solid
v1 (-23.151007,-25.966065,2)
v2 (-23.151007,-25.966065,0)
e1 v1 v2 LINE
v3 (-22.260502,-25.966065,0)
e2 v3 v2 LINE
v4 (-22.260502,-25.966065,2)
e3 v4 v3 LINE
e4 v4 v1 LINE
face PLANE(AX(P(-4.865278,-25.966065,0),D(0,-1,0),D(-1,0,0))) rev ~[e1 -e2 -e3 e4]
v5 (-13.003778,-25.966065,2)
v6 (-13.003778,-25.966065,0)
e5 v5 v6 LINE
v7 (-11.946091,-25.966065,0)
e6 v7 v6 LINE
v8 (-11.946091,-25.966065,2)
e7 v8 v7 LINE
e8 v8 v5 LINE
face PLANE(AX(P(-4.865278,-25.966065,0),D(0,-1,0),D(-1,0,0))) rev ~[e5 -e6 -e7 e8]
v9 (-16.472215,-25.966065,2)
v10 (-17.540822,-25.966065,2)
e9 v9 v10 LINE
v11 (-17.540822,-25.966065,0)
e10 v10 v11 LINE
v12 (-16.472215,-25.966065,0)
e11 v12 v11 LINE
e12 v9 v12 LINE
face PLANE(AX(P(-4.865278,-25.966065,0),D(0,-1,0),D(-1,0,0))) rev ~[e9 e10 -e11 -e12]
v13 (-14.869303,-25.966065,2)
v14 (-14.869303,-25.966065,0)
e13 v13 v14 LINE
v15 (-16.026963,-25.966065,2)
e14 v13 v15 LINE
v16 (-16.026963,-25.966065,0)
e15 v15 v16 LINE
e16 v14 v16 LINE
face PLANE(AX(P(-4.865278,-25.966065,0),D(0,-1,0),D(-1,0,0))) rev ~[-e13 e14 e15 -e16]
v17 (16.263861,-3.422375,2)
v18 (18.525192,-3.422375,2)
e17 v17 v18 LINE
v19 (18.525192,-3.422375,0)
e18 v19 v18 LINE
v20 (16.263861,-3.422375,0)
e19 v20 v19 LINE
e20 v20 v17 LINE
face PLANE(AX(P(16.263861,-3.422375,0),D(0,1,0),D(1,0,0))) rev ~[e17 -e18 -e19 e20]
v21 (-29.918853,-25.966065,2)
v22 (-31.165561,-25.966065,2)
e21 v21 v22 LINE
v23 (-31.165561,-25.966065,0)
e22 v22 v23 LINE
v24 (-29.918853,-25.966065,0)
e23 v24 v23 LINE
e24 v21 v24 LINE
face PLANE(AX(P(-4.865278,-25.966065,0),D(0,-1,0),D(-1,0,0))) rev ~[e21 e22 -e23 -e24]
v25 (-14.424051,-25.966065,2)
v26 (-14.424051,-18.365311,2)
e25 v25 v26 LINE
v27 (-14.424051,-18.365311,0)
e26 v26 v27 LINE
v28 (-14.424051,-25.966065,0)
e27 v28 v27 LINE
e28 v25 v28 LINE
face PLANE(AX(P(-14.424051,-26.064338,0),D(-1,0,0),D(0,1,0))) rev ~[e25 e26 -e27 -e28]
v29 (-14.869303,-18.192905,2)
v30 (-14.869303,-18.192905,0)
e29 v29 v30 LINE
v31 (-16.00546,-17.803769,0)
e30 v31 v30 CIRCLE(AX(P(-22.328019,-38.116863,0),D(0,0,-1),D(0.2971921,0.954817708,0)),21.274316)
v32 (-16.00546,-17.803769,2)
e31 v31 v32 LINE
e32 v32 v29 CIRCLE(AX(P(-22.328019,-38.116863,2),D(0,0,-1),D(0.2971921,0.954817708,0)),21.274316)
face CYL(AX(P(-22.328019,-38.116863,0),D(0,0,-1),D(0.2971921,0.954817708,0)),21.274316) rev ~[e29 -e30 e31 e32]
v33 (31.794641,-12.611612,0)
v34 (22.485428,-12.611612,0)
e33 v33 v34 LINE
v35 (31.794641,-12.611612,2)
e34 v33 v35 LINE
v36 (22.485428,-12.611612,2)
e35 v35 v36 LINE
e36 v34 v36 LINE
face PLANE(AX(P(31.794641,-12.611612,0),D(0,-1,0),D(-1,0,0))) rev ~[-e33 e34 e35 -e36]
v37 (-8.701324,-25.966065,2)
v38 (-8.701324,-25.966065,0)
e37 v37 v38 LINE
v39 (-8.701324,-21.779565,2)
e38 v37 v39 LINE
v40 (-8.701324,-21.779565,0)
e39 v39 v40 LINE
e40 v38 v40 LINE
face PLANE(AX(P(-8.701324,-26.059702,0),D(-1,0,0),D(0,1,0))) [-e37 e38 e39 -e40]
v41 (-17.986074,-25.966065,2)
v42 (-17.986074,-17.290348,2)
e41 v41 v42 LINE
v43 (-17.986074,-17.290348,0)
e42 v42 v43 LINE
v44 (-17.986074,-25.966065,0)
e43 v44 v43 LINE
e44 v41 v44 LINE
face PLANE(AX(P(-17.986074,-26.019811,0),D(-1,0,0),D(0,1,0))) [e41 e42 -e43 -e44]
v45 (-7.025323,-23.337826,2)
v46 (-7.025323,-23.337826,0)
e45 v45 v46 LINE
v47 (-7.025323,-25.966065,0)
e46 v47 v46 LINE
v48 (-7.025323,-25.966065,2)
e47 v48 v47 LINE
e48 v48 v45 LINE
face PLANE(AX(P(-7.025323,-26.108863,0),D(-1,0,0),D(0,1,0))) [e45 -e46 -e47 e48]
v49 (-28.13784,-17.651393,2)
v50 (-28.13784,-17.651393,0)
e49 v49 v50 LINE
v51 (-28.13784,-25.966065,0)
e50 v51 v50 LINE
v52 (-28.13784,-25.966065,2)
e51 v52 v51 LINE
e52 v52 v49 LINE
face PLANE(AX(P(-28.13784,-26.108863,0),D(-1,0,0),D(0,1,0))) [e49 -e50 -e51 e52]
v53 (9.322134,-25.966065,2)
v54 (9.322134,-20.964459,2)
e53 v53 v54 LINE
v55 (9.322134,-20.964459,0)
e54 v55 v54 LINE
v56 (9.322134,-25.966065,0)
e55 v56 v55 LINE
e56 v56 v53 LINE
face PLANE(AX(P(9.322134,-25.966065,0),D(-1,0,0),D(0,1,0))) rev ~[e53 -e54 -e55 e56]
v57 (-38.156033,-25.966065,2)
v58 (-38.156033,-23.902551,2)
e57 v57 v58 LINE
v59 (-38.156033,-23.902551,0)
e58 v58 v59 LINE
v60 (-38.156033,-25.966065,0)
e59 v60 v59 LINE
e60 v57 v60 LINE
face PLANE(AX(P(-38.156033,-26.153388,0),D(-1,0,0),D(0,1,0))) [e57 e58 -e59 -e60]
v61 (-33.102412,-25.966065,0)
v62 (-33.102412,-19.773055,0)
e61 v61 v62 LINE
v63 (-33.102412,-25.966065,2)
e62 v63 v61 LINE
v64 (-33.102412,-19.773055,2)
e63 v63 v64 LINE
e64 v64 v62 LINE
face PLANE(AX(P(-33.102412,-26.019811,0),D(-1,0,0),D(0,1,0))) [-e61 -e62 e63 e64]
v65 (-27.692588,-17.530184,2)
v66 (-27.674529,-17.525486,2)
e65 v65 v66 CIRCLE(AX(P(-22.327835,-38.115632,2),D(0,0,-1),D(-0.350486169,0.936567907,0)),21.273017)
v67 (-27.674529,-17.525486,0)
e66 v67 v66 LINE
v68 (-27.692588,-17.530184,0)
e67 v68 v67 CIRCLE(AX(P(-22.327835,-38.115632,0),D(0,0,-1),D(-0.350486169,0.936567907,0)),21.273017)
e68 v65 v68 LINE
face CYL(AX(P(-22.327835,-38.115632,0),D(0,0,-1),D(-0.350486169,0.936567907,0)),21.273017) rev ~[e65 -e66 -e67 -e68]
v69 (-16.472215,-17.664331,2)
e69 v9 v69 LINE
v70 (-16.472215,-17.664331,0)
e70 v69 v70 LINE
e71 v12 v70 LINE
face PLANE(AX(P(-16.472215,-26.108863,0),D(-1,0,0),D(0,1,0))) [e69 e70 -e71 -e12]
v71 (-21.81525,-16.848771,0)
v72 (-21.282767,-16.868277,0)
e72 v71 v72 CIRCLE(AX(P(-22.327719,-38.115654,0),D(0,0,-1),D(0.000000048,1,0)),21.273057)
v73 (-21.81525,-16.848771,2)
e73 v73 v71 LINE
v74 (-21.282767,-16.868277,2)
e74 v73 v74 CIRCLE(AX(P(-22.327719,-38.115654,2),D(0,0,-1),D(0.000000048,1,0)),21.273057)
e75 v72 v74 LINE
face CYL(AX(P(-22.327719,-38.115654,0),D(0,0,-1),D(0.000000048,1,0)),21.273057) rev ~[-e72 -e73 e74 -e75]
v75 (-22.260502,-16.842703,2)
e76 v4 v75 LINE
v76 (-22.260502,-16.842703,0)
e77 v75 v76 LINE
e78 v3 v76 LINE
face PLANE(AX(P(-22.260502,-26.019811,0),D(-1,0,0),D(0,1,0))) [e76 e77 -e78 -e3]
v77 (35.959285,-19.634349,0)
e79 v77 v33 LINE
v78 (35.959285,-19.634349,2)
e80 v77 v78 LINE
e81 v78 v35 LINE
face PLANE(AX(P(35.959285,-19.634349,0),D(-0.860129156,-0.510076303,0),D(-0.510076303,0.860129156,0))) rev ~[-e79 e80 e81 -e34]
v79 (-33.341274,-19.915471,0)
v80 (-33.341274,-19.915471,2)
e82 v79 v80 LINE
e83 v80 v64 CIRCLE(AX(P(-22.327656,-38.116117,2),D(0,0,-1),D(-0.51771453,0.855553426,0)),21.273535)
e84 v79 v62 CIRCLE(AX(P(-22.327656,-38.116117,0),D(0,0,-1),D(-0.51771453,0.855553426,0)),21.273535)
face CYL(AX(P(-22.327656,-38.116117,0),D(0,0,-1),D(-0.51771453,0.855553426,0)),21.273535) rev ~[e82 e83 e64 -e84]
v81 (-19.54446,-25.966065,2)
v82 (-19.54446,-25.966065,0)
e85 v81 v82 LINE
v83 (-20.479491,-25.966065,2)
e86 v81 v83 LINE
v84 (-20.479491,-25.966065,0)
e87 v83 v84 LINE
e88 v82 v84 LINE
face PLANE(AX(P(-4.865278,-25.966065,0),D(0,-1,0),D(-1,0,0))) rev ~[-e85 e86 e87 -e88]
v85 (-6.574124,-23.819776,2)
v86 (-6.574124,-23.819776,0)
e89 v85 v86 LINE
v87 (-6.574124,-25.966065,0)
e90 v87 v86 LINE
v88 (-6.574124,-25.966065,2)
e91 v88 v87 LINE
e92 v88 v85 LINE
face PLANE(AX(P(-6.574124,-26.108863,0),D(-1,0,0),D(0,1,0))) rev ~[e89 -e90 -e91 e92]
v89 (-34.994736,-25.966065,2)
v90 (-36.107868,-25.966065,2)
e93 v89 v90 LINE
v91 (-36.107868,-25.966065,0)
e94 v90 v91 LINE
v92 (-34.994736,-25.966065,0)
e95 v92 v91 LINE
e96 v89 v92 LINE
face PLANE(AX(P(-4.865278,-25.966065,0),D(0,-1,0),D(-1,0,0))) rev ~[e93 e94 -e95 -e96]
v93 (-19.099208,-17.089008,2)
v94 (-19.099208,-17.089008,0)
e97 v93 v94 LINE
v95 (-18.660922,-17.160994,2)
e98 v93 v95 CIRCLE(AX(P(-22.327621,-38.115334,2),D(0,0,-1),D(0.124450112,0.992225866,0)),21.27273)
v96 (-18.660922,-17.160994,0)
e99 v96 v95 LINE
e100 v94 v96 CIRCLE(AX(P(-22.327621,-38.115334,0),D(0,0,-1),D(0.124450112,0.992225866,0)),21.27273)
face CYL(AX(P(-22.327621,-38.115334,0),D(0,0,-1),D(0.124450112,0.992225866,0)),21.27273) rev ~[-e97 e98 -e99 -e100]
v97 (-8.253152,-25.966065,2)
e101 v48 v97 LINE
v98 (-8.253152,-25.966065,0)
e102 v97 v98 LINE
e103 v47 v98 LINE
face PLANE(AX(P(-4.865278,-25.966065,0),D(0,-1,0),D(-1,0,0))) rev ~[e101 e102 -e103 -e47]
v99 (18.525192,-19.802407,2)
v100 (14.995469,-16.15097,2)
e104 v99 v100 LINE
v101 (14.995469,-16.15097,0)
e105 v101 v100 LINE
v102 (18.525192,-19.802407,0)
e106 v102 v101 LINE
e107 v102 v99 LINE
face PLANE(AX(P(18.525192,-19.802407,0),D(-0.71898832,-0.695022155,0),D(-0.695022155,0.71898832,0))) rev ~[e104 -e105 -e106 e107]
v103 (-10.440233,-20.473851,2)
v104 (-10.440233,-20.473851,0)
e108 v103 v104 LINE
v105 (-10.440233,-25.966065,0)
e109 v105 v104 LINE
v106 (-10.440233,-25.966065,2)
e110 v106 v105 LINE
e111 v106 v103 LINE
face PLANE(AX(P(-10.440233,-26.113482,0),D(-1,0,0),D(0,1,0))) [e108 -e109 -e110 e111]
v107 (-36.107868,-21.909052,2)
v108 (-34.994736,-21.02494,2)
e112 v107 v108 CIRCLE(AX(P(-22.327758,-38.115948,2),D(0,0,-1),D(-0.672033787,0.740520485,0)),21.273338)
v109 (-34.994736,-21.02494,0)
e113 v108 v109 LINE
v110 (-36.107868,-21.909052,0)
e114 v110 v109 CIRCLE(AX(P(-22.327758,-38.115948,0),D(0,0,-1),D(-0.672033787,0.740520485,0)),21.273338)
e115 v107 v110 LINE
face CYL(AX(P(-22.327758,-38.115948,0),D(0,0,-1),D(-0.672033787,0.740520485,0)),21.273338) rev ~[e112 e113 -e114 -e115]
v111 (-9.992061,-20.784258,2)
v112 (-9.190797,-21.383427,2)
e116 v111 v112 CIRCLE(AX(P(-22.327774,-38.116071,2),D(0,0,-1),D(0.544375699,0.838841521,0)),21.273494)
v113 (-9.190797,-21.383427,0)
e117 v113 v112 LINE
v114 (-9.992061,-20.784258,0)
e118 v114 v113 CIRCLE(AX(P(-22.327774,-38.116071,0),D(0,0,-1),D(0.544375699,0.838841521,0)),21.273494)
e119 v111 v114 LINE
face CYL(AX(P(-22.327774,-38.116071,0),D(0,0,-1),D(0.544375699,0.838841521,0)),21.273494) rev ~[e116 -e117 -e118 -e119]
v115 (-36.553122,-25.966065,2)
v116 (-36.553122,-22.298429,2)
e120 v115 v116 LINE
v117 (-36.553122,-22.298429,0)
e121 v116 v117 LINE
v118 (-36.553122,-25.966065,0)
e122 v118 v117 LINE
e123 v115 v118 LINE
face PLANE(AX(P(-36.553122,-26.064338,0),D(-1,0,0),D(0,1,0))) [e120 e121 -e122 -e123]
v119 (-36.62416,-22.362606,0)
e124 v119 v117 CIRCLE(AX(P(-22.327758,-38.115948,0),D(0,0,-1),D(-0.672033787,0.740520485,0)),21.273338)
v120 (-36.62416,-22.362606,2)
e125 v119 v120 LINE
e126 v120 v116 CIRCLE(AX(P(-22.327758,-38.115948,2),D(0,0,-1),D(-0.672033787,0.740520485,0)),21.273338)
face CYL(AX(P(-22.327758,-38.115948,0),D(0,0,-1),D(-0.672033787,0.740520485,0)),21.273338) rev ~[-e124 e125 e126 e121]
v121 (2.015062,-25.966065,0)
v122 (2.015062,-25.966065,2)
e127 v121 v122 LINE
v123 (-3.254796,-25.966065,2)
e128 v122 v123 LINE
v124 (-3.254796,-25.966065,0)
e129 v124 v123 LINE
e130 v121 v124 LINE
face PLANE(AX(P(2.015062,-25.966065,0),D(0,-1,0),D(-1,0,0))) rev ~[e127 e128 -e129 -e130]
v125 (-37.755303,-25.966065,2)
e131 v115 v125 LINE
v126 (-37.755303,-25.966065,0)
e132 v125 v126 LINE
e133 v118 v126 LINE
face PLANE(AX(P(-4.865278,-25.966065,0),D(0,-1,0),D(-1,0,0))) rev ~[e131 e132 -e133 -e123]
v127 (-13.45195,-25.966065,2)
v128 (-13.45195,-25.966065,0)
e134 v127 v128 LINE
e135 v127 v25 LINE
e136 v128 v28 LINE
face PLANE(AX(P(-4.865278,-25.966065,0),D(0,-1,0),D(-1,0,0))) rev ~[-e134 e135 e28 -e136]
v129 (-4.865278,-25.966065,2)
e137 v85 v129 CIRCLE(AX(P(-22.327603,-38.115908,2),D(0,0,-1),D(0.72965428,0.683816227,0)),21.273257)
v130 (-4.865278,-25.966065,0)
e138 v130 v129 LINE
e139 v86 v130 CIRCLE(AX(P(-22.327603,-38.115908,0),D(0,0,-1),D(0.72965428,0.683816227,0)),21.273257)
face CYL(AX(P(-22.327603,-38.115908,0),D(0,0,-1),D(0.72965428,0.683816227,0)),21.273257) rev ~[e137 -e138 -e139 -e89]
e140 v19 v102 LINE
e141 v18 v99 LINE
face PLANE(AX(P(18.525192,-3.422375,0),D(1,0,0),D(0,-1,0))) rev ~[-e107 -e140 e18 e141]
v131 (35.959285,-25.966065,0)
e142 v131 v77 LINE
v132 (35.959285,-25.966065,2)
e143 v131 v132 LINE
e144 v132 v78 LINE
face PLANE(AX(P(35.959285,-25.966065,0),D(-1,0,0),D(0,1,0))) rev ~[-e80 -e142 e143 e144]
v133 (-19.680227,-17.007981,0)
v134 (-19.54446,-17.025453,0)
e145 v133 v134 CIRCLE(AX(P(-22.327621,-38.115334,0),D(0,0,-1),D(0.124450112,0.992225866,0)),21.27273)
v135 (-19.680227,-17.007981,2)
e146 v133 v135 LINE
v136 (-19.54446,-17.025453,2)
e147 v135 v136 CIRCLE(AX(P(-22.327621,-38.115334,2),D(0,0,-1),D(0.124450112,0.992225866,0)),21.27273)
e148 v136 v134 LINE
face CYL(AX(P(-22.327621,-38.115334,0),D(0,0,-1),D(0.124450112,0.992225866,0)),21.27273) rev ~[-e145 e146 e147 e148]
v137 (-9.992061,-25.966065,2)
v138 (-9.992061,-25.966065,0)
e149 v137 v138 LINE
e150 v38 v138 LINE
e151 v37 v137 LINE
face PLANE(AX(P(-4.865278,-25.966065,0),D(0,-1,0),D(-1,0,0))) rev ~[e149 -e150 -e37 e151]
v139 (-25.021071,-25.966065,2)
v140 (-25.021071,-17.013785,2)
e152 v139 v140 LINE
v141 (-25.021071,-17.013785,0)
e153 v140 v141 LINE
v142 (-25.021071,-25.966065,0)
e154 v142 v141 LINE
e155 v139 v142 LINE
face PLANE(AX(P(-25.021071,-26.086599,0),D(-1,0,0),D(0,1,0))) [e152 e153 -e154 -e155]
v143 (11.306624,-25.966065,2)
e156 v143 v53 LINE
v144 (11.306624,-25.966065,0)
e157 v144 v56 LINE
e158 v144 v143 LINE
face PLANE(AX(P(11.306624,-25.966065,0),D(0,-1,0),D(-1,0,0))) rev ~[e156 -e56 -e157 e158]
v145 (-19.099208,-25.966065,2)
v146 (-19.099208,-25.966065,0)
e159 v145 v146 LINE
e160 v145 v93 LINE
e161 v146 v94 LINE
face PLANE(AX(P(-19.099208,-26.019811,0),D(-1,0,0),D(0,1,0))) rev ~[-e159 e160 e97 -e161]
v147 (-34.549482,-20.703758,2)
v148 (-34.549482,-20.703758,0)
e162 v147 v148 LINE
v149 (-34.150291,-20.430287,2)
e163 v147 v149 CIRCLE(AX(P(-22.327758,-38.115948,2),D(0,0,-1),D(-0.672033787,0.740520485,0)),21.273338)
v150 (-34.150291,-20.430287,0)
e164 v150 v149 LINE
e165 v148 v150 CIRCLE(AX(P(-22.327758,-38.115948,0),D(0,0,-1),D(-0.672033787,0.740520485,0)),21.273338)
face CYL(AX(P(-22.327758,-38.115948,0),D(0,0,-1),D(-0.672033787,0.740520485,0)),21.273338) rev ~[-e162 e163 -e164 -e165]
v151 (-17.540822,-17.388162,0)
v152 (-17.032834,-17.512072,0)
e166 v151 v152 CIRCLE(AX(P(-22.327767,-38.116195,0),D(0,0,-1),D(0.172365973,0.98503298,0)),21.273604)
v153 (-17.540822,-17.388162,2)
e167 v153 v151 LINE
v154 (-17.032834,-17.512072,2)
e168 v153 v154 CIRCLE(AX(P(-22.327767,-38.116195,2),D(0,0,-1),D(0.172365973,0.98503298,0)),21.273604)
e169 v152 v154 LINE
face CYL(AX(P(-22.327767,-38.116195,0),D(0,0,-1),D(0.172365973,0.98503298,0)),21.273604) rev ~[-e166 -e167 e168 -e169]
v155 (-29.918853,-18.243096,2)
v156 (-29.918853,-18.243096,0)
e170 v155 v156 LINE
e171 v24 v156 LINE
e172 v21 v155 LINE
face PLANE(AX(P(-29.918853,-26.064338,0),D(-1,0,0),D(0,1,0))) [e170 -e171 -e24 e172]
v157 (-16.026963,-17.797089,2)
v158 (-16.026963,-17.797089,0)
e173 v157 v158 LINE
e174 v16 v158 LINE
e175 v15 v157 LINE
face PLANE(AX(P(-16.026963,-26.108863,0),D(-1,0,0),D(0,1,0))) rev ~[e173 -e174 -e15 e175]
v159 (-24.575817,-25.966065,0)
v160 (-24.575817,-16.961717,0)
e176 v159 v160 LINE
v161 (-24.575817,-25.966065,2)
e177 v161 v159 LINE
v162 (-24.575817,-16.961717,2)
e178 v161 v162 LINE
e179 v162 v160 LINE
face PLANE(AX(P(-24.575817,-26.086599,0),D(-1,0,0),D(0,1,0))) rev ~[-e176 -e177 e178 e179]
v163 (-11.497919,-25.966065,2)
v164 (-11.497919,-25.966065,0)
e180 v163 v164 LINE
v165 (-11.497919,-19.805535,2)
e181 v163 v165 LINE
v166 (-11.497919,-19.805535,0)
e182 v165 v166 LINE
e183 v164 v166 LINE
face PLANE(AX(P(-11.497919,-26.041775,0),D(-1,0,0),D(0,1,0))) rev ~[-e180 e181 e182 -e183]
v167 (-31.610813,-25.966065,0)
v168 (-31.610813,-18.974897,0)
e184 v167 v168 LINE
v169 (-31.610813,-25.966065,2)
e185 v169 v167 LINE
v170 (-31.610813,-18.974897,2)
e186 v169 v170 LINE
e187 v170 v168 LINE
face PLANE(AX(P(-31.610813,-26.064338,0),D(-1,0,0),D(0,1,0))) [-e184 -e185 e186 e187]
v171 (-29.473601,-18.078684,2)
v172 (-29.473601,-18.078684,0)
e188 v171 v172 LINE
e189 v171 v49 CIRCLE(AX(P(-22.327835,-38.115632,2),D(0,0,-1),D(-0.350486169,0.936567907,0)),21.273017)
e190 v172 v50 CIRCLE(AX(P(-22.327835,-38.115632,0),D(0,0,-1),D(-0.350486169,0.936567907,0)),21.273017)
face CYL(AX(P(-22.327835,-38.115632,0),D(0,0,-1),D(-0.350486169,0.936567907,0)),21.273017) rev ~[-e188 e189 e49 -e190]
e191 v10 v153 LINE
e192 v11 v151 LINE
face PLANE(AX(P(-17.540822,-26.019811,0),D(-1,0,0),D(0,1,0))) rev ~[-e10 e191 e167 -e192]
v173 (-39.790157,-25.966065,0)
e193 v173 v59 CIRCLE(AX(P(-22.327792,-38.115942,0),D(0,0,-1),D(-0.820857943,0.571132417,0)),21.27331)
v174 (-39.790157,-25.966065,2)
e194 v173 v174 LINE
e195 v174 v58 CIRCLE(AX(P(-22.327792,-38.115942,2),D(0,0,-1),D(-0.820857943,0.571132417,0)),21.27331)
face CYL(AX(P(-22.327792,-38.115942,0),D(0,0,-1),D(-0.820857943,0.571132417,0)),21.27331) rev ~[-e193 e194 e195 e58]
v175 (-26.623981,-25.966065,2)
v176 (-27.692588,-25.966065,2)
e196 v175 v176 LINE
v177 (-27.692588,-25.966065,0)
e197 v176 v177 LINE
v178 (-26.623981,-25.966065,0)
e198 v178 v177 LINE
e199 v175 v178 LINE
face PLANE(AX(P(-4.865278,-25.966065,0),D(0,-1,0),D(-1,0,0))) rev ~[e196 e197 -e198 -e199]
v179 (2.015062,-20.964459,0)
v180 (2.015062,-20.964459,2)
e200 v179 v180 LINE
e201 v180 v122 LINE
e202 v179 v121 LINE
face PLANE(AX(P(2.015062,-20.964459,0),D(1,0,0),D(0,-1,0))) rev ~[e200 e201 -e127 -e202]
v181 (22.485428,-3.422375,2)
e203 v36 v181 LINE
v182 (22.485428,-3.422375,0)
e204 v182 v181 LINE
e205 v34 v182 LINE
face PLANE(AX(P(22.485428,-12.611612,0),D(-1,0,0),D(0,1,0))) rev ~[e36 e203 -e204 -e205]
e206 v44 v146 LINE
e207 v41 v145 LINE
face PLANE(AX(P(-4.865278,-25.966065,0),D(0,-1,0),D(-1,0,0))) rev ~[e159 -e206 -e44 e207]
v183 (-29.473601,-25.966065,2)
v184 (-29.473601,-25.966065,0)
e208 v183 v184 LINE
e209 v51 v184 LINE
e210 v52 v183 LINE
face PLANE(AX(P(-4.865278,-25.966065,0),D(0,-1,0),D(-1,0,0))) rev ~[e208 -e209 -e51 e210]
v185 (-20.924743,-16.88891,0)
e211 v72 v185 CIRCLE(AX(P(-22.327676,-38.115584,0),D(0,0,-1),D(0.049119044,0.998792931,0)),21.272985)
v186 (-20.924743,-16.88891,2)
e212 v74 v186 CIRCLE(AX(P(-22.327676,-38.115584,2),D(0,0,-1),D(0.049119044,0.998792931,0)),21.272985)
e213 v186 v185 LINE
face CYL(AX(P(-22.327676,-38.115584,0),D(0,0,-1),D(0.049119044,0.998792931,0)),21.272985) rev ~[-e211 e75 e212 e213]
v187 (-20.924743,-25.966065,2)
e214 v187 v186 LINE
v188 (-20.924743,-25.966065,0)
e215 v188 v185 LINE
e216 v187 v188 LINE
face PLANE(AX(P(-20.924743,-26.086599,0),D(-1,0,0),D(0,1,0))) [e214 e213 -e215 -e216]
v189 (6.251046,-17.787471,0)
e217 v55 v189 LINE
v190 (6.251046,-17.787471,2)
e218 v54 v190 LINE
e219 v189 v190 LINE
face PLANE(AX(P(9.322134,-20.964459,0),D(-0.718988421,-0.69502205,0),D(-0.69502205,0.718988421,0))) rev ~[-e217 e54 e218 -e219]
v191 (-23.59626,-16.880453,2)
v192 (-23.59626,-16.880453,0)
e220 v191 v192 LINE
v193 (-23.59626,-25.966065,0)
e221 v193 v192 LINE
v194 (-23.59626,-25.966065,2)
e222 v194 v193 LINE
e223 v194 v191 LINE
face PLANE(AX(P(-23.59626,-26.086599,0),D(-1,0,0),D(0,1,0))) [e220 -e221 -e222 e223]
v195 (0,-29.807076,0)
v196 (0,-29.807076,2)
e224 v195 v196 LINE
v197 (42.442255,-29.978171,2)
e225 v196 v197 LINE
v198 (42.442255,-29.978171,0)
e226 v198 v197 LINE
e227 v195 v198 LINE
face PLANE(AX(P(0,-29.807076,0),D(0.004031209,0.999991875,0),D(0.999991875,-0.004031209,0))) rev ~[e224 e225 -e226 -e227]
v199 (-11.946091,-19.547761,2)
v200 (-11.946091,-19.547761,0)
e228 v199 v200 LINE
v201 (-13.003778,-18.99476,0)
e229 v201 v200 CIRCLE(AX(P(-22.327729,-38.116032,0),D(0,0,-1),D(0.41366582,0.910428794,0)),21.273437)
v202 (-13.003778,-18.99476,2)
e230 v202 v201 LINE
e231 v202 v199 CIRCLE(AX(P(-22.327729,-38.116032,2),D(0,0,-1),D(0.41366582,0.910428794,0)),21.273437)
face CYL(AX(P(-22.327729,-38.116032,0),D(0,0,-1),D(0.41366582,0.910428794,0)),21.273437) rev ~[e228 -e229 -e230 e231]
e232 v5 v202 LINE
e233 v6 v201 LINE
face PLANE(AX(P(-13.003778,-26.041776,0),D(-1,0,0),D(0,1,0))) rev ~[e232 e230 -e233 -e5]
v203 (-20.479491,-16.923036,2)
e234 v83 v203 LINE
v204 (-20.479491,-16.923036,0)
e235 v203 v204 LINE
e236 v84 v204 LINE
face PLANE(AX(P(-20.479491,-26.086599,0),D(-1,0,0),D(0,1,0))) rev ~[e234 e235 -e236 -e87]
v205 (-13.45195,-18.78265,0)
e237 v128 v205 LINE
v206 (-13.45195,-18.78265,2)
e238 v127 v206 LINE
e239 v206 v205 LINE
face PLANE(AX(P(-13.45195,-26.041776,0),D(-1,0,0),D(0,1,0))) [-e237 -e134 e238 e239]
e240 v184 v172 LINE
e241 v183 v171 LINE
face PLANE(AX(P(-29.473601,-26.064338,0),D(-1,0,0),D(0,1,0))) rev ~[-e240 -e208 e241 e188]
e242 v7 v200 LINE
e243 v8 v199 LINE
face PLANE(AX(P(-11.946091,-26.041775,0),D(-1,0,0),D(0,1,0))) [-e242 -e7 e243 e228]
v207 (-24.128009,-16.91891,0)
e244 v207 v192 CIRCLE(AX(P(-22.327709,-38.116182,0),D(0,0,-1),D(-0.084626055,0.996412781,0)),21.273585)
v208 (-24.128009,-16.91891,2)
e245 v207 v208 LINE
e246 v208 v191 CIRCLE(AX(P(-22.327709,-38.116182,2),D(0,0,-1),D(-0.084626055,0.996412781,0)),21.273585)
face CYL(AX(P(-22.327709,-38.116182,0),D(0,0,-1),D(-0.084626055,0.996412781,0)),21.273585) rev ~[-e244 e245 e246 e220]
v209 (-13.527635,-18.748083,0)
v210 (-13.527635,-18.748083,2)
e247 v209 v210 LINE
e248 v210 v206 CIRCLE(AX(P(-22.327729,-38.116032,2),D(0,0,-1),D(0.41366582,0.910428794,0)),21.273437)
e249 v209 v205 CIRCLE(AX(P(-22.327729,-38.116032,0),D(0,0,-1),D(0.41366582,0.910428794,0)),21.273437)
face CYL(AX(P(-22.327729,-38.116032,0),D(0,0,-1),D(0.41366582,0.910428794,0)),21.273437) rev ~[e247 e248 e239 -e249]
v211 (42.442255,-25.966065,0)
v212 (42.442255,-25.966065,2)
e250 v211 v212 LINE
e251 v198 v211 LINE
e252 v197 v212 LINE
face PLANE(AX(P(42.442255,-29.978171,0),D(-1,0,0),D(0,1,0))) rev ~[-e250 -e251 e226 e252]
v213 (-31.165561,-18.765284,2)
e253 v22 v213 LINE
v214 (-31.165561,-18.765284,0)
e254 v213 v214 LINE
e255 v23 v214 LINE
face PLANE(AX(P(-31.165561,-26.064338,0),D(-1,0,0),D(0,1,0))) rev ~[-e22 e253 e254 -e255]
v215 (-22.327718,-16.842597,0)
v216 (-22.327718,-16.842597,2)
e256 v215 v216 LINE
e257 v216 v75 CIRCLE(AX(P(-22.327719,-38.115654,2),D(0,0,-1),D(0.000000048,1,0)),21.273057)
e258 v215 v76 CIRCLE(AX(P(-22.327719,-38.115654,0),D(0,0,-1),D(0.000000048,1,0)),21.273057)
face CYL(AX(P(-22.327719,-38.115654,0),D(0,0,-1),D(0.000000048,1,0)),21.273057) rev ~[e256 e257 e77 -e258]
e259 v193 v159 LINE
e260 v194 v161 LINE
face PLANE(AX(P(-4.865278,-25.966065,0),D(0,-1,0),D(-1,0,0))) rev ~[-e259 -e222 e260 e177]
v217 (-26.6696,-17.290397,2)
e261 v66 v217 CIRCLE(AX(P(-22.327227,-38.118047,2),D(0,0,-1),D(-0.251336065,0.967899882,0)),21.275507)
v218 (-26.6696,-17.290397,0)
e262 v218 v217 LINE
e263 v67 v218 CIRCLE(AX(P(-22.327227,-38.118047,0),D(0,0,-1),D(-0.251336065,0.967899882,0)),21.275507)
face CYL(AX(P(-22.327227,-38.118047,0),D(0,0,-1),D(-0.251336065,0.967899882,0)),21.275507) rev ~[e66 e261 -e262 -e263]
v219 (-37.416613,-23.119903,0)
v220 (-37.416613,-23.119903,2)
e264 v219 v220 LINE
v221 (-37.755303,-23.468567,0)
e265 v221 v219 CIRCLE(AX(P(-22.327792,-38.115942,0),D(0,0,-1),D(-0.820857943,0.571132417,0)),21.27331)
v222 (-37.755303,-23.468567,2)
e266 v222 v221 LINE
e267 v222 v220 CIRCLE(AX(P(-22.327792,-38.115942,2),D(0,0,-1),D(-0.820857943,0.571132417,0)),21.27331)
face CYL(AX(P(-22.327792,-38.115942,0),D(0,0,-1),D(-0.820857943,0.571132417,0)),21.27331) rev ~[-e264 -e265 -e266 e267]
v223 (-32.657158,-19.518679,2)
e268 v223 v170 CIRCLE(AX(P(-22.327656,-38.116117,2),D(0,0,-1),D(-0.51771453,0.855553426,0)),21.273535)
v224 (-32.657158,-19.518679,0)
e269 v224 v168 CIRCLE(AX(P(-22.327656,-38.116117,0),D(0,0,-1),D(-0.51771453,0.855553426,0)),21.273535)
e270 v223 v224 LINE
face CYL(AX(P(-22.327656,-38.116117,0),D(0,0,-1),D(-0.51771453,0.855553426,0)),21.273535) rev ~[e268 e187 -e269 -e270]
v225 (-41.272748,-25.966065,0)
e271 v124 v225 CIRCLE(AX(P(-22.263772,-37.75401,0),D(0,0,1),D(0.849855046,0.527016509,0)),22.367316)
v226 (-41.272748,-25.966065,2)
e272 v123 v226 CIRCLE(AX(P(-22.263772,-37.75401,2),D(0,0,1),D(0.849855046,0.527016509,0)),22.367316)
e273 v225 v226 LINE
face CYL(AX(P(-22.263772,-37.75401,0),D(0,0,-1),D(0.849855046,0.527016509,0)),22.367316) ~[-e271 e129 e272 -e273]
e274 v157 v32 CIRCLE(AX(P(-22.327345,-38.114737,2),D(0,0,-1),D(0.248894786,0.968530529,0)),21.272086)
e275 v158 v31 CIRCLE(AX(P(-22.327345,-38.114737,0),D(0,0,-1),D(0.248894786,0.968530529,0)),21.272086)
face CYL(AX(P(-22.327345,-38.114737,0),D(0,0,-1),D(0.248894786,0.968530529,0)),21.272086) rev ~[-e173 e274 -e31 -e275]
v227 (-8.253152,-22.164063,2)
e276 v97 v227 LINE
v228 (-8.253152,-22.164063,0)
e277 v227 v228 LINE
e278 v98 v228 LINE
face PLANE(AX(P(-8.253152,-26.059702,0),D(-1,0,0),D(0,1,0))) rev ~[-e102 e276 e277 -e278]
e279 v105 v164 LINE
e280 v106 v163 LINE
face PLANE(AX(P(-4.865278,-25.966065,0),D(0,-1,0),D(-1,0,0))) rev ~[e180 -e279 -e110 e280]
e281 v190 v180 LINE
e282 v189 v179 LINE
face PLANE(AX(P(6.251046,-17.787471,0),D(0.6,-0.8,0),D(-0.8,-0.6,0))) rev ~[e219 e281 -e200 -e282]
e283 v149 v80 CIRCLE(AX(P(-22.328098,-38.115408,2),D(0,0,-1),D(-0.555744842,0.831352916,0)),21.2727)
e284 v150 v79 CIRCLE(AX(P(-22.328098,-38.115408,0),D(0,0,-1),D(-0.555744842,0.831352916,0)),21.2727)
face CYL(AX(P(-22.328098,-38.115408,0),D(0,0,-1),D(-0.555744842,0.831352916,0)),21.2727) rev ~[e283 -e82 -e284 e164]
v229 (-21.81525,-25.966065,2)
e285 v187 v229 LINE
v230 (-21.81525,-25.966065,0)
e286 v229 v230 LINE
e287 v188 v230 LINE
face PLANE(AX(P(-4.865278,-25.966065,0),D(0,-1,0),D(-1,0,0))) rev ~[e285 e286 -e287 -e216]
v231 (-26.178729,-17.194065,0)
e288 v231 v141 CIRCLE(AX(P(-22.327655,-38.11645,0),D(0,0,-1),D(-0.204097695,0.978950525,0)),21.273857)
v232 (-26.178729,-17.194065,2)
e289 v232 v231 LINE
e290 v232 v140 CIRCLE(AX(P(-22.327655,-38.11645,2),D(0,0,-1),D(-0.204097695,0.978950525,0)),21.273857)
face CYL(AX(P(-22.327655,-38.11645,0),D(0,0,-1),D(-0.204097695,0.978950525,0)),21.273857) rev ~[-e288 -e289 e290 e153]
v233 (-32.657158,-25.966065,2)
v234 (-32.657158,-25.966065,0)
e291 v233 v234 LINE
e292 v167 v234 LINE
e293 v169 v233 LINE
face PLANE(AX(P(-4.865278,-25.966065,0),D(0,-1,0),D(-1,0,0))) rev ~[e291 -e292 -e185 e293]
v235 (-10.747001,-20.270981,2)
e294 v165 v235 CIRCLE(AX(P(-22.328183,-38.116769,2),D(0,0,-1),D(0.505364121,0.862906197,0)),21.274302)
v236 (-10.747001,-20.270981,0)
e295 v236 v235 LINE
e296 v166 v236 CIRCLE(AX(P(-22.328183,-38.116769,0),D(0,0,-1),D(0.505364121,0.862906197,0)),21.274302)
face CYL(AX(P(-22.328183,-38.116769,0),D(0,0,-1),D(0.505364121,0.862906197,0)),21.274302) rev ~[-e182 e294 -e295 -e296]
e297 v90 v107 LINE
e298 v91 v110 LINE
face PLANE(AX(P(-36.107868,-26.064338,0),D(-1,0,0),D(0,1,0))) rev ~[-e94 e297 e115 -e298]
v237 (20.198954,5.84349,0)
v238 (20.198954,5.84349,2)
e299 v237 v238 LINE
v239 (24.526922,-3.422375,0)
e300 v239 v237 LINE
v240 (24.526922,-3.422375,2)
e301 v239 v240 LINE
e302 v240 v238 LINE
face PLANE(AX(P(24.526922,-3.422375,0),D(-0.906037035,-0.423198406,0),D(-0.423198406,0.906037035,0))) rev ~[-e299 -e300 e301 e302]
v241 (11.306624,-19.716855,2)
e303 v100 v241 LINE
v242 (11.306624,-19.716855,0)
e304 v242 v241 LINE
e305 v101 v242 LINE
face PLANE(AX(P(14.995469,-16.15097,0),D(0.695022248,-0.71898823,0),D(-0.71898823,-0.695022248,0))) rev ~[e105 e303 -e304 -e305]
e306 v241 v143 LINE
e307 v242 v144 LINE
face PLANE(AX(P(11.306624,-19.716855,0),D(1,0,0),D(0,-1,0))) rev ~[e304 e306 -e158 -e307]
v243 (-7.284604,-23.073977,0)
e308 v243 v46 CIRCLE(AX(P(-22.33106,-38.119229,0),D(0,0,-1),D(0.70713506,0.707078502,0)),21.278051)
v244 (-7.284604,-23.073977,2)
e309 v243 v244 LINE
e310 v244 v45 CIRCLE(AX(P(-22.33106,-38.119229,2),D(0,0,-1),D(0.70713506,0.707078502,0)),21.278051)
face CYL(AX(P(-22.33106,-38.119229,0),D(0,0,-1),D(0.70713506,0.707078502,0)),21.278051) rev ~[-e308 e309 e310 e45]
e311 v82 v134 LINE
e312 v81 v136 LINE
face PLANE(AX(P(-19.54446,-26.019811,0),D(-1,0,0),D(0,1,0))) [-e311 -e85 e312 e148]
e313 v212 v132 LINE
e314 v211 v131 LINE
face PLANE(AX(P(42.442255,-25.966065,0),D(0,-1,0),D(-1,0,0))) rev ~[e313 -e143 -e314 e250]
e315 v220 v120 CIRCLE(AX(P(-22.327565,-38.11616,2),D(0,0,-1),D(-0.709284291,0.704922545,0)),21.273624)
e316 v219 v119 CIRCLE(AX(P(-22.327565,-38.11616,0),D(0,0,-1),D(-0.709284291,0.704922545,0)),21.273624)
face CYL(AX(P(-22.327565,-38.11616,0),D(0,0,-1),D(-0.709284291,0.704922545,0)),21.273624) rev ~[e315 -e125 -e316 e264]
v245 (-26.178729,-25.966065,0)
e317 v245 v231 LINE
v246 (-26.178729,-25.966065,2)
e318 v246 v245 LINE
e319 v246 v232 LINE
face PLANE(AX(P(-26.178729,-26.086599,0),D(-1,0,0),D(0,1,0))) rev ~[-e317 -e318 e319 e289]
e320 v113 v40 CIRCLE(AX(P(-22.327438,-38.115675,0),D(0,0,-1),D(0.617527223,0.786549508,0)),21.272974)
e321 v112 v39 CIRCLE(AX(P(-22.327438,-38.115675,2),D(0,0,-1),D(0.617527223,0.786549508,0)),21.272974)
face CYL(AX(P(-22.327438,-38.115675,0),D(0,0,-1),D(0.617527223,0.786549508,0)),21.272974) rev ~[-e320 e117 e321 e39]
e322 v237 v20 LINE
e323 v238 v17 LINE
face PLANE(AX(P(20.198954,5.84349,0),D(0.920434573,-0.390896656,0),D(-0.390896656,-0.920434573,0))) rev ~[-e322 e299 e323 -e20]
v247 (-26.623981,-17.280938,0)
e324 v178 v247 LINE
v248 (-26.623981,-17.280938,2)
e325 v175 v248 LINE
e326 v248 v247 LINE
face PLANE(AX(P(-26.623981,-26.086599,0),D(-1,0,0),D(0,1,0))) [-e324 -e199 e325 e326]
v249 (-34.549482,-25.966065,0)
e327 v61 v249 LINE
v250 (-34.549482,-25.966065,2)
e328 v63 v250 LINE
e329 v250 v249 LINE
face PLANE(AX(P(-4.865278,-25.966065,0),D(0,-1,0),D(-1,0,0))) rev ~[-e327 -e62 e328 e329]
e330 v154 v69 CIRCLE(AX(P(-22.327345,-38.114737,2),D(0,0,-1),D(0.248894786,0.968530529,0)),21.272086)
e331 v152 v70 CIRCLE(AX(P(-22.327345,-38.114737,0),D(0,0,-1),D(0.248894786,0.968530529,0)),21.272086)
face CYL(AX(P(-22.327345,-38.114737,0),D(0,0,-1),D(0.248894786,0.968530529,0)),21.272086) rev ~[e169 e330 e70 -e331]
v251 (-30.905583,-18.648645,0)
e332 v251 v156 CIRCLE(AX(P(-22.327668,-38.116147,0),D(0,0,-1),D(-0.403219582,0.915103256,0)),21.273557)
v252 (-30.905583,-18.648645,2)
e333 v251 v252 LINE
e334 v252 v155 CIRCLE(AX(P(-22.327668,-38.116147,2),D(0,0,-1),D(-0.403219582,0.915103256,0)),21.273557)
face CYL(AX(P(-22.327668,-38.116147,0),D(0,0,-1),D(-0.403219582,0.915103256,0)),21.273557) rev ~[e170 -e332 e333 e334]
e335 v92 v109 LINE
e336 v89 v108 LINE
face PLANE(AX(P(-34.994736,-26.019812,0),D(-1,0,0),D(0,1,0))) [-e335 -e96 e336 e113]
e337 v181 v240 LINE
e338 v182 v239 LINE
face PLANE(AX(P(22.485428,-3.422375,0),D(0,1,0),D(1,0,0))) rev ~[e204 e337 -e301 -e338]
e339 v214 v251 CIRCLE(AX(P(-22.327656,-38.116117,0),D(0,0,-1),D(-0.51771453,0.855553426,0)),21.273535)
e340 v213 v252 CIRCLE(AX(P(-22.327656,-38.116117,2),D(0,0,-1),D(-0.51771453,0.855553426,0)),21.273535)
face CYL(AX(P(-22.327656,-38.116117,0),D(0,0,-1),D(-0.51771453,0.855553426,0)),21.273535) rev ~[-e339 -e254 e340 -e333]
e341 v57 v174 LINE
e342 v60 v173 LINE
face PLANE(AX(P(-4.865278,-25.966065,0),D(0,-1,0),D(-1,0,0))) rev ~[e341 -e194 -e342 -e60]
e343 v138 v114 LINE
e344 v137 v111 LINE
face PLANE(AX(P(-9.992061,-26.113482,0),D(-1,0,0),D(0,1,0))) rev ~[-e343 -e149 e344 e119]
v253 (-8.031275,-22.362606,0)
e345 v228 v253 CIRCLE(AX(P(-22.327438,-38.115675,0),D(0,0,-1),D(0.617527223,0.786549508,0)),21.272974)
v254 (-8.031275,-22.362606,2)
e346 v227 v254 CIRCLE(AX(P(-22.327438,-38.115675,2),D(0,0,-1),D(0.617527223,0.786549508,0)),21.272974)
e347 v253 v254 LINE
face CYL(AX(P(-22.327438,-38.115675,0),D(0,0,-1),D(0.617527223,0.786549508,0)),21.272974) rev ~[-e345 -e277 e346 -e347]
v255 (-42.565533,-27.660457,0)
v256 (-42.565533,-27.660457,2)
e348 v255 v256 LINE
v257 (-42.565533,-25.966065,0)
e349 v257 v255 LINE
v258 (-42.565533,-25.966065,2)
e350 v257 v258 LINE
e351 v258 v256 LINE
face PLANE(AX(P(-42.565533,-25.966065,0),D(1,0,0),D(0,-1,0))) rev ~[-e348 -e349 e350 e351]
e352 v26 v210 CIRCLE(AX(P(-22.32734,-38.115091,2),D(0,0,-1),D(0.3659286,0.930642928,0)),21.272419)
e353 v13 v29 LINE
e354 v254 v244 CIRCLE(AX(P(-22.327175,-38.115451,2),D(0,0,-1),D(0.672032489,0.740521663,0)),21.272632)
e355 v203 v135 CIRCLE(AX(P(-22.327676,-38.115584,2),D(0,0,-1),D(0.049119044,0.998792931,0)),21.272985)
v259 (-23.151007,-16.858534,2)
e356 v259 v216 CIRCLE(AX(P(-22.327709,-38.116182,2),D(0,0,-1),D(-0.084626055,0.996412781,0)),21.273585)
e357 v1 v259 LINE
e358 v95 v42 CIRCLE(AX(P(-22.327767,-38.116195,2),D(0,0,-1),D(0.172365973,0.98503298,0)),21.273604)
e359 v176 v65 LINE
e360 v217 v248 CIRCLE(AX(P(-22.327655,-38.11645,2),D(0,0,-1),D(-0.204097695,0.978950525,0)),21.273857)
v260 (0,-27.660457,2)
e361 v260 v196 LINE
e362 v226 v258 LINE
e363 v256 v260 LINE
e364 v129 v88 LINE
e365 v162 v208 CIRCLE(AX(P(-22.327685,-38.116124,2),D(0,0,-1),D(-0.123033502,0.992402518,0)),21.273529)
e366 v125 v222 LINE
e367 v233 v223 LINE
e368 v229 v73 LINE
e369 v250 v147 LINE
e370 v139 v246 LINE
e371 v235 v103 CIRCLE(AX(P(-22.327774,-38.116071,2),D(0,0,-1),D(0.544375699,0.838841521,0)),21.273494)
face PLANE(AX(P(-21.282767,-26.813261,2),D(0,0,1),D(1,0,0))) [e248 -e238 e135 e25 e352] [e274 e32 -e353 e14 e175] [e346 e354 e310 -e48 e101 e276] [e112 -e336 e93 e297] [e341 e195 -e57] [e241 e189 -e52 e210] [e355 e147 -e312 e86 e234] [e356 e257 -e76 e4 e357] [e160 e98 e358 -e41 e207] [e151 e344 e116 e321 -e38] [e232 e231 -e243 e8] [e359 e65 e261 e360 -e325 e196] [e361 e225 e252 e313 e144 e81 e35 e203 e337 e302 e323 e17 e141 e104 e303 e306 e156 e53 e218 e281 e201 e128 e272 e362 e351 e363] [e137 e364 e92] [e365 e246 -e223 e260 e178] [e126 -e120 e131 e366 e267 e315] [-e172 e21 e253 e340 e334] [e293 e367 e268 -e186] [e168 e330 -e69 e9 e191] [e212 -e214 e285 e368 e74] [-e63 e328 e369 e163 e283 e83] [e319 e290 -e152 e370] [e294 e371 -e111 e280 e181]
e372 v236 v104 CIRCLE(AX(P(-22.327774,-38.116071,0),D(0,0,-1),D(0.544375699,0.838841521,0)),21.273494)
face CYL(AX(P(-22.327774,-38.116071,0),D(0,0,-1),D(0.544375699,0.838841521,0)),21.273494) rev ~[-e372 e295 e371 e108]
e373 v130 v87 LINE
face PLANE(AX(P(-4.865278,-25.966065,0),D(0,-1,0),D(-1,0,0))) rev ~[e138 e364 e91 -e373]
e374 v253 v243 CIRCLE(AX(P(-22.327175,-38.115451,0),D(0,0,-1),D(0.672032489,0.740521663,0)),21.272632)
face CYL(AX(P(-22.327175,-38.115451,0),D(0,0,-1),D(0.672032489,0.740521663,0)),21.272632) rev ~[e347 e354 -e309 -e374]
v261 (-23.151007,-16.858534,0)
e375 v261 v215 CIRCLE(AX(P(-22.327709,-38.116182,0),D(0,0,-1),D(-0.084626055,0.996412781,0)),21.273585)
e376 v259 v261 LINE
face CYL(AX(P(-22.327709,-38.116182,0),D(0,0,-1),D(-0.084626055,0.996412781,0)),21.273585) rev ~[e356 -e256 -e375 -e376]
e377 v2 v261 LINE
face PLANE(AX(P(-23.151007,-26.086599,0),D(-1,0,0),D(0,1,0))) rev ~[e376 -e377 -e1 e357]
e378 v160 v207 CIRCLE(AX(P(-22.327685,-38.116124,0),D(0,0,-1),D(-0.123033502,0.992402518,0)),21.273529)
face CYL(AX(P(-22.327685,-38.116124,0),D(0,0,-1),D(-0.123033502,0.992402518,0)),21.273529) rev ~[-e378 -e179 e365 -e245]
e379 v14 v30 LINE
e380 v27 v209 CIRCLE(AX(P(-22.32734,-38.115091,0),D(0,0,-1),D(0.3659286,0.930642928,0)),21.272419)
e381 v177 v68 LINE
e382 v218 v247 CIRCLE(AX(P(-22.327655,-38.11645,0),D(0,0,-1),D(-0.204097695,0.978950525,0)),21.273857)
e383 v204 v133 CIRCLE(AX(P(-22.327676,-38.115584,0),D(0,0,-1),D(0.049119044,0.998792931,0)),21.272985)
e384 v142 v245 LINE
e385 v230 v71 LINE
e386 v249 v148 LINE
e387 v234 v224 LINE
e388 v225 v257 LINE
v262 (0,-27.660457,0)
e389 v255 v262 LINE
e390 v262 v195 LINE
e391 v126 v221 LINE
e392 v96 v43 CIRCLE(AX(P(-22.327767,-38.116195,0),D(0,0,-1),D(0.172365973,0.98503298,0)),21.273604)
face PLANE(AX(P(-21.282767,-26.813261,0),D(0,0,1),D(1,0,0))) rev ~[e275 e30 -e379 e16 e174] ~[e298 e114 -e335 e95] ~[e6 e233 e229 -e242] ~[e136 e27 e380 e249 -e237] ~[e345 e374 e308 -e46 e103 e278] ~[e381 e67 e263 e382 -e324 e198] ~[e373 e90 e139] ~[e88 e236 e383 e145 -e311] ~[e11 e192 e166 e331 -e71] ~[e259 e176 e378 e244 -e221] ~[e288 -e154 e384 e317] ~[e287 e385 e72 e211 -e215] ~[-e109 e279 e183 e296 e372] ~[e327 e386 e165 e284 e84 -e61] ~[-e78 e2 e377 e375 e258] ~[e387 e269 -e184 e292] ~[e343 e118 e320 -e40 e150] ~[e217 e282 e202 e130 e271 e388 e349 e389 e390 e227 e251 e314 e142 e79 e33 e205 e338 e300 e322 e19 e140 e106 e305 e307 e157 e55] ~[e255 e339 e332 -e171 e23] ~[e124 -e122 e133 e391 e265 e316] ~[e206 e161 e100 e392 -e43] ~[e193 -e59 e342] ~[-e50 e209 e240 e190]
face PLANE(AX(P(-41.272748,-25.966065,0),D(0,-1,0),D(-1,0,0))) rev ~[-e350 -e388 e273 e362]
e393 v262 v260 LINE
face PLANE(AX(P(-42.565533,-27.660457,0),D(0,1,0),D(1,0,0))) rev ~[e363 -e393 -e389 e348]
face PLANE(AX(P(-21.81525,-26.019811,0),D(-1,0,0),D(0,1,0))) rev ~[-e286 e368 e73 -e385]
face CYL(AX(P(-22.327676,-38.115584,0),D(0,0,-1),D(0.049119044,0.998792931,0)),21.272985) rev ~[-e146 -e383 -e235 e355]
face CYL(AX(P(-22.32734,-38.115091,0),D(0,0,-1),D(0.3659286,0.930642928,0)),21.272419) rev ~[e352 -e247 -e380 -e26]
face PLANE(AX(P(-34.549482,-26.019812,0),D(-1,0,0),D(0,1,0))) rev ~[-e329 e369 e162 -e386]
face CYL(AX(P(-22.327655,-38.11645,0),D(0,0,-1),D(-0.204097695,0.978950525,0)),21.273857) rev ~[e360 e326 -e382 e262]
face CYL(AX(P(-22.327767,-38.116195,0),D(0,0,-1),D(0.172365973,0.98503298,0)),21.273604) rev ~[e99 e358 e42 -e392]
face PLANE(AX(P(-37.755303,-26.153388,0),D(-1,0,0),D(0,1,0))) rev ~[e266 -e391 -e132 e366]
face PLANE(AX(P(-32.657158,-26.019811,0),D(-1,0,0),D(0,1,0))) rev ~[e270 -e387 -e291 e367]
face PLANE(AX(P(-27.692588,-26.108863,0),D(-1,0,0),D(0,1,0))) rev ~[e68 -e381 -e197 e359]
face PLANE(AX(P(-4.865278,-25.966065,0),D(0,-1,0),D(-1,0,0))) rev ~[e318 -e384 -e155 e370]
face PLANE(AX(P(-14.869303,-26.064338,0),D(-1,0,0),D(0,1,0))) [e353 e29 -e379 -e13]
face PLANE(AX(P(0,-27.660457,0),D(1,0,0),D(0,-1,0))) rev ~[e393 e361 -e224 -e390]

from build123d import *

# Parameters (mm, degrees)
F2_DEPTH = 2
F3_W     = 0.40073
F3_H     = 3.094508
F3_W_2   = 0.445254
F3_H_2   = 4.318954
F3_H_3   = 5.565662
F3_H_4   = 6.723319
F3_W_3   = 0.445252
F3_H_5   = 7.725138
F3_H_6   = 8.370755
F3_H_7   = 8.83827
F3_H_8   = 9.105423
F3_W_4   = 0.445253
F3_H_9   = 9.506151
F3_H_10  = 9.439363
F3_H_11  = 9.083159
F3_H_12  = 8.459806
F3_W_5   = 0.448172
F3_H_13  = 8.174662
F3_H_14  = 6.776365
F3_H_15  = 5.736604
F3_H_16  = 4.678918
F3_W_6   = 0.451199
F3_H_17  = 3.560012
F4_DEPTH = 2


with BuildPart() as f2:
    # F1 (on face) → F2 (new body)
    with BuildSketch(Plane.XY):
        Polygon((-42.565533, -25.966065), (-42.565533, -27.660457), (0, -27.660457), (0, -25.966065), (-3.254796, -25.966065), (-4.865278, -25.966065), (-6.80548, -25.966065), (-7.284604, -25.966065), (-8.611036, -25.966065), (-9.190797, -25.966065), (-10.747001, -25.966065), (-11.576914, -25.966065), (-13.527635, -25.966065), (-14.543153, -25.966065), (-16.00546, -25.966065), (-17.032834, -25.966065), (-18.660922, -25.966065), (-19.680227, -25.966065), (-21.282767, -25.966065), (-22.327718, -25.966065), (-24.128009, -25.966065), (-24.945042, -25.966065), (-26.6696, -25.966065), (-27.674529, -25.966065), (-29.783733, -25.966065), (-30.905583, -25.966065), (-33.341274, -25.966065), (-34.150291, -25.966065), (-36.62416, -25.966065), (-37.416613, -25.966065), (-39.790157, -25.966065), (-41.272748, -25.966065), align=None)
        Polygon((0, -25.966065), (0, -27.660457), (0, -29.807076), (42.442255, -29.978171), (42.442255, -25.966065), (37.837461, -25.966065), (35.959285, -25.966065), (35.959285, -19.634349), (31.794641, -12.611612), (22.485428, -12.611612), (22.485428, -3.422375), (24.526922, -3.422375), (20.198954, 5.84349), (16.263861, -3.422375), (18.525192, -3.422375), (18.525192, -19.802407), (14.995469, -16.15097), (11.306624, -19.716855), (11.306624, -25.966065), (9.322134, -25.966065), (9.322134, -20.964459), (6.251046, -17.787471), (2.015062, -20.964459), (2.015062, -25.966065), align=None)
        with BuildLine():
            ThreePointArc((-3.254796, -25.966065), (-22.263772, -15.386694), (-41.272748, -25.966065))
            Line((-41.272748, -25.966065), (-39.790157, -25.966065))
            ThreePointArc((-39.790157, -25.966065), (-38.665481, -24.491199), (-37.416613, -23.119903))
            ThreePointArc((-37.416613, -23.119903), (-37.025265, -22.73615), (-36.62416, -22.362606))
            ThreePointArc((-36.62416, -22.362606), (-35.422916, -21.350754), (-34.150291, -20.430287))
            ThreePointArc((-34.150291, -20.430287), (-33.748684, -20.16832), (-33.341274, -19.915471))
            ThreePointArc((-33.341274, -19.915471), (-32.143886, -19.242725), (-30.905583, -18.648645))
            ThreePointArc((-30.905583, -18.648645), (-30.347908, -18.41234), (-29.783733, -18.192007))
            ThreePointArc((-29.783733, -18.192007), (-28.7378, -17.831313), (-27.674529, -17.525486))
            ThreePointArc((-27.674529, -17.525486), (-27.17349, -17.401847), (-26.6696, -17.290397))
            ThreePointArc((-26.6696, -17.290397), (-25.810262, -17.129587), (-24.945042, -17.00422))
            ThreePointArc((-24.945042, -17.00422), (-24.536938, -16.957621), (-24.128009, -16.91891))
            ThreePointArc((-24.128009, -16.91891), (-23.228672, -16.861684), (-22.327718, -16.842597))
            ThreePointArc((-22.327718, -16.842597), (-21.805084, -16.849018), (-21.282767, -16.868277))
            ThreePointArc((-21.282767, -16.868277), (-20.480176, -16.922976), (-19.680227, -17.007981))
            ThreePointArc((-19.680227, -17.007981), (-19.169648, -17.078313), (-18.660922, -17.160994))
            ThreePointArc((-18.660922, -17.160994), (-17.843441, -17.320594), (-17.032834, -17.512072))
            ThreePointArc((-17.032834, -17.512072), (-16.517316, -17.651472), (-16.00546, -17.803769))
            ThreePointArc((-16.00546, -17.803769), (-15.269621, -18.047594), (-14.543153, -18.318065))
            ThreePointArc((-14.543153, -18.318065), (-14.032607, -18.526492), (-13.527635, -18.748083))
            ThreePointArc((-13.527635, -18.748083), (-12.539214, -19.228362), (-11.576914, -19.759042))
            ThreePointArc((-11.576914, -19.759042), (-11.159024, -20.010256), (-10.747001, -20.270981))
            ThreePointArc((-10.747001, -20.270981), (-9.956389, -20.809703), (-9.190797, -21.383427))
            ThreePointArc((-9.190797, -21.383427), (-8.602301, -21.862673), (-8.031275, -22.362606))
            ThreePointArc((-8.031275, -22.362606), (-7.653628, -22.713766), (-7.284604, -23.073977))
            ThreePointArc((-7.284604, -23.073977), (-7.043039, -23.319504), (-6.80548, -23.568909))
            ThreePointArc((-6.80548, -23.568909), (-5.791883, -24.732282), (-4.865278, -25.966065))
            Line((-4.865278, -25.966065), (-3.254796, -25.966065))
        make_face()
    extrude(amount=F2_DEPTH)

    # F3 (on face) → F4 (join)
    with BuildSketch(Plane.XY):
        with Locations((-37.955668, -24.606134)):
            Rectangle(F3_W, F3_H)
        with Locations((-36.330495, -23.904861)):
            Rectangle(F3_W_2, F3_H_2)
        with Locations((-34.772109, -23.236981)):
            Rectangle(F3_W_2, F3_H_3)
        with Locations((-32.879785, -22.658152)):
            Rectangle(F3_W_2, F3_H_4)
        with Locations((-31.388187, -22.201769)):
            Rectangle(F3_W_3, F3_H_5)
        with Locations((-29.696227, -21.87896)):
            Rectangle(F3_W_3, F3_H_6)
        with Locations((-27.915214, -21.689728)):
            Rectangle(F3_W_3, F3_H_7)
        with Locations((-26.401355, -21.533888)):
            Rectangle(F3_W_3, F3_H_8)
        with Locations((-24.798444, -21.333524)):
            Rectangle(F3_W_4, F3_H_9)
        with Locations((-23.373634, -21.333524)):
            Rectangle(F3_W_4, F3_H_9)
        with Locations((-22.037876, -21.30013)):
            Rectangle(F3_W_3, F3_H_10)
        with Locations((-20.702117, -21.333524)):
            Rectangle(F3_W_3, F3_H_9)
        with Locations((-19.321834, -21.30013)):
            Rectangle(F3_W_3, F3_H_10)
        with Locations((-17.763448, -21.30013)):
            Rectangle(F3_W_3, F3_H_10)
        with Locations((-16.249589, -21.567283)):
            Rectangle(F3_W_3, F3_H_11)
        with Locations((-14.646677, -21.834435)):
            Rectangle(F3_W_3, F3_H_12)
        with Locations((-13.227864, -21.954445)):
            Rectangle(F3_W_5, F3_H_13)
        with Locations((-11.722005, -22.653593)):
            Rectangle(F3_W_5, F3_H_14)
        with Locations((-10.216147, -23.24518)):
            Rectangle(F3_W_5, F3_H_15)
        with Locations((-8.477238, -23.720243)):
            Rectangle(F3_W_5, F3_H_16)
        with Locations((-6.799724, -24.328857)):
            Rectangle(F3_W_6, F3_H_17)
    extrude(amount=F4_DEPTH)


solid = f2.part
